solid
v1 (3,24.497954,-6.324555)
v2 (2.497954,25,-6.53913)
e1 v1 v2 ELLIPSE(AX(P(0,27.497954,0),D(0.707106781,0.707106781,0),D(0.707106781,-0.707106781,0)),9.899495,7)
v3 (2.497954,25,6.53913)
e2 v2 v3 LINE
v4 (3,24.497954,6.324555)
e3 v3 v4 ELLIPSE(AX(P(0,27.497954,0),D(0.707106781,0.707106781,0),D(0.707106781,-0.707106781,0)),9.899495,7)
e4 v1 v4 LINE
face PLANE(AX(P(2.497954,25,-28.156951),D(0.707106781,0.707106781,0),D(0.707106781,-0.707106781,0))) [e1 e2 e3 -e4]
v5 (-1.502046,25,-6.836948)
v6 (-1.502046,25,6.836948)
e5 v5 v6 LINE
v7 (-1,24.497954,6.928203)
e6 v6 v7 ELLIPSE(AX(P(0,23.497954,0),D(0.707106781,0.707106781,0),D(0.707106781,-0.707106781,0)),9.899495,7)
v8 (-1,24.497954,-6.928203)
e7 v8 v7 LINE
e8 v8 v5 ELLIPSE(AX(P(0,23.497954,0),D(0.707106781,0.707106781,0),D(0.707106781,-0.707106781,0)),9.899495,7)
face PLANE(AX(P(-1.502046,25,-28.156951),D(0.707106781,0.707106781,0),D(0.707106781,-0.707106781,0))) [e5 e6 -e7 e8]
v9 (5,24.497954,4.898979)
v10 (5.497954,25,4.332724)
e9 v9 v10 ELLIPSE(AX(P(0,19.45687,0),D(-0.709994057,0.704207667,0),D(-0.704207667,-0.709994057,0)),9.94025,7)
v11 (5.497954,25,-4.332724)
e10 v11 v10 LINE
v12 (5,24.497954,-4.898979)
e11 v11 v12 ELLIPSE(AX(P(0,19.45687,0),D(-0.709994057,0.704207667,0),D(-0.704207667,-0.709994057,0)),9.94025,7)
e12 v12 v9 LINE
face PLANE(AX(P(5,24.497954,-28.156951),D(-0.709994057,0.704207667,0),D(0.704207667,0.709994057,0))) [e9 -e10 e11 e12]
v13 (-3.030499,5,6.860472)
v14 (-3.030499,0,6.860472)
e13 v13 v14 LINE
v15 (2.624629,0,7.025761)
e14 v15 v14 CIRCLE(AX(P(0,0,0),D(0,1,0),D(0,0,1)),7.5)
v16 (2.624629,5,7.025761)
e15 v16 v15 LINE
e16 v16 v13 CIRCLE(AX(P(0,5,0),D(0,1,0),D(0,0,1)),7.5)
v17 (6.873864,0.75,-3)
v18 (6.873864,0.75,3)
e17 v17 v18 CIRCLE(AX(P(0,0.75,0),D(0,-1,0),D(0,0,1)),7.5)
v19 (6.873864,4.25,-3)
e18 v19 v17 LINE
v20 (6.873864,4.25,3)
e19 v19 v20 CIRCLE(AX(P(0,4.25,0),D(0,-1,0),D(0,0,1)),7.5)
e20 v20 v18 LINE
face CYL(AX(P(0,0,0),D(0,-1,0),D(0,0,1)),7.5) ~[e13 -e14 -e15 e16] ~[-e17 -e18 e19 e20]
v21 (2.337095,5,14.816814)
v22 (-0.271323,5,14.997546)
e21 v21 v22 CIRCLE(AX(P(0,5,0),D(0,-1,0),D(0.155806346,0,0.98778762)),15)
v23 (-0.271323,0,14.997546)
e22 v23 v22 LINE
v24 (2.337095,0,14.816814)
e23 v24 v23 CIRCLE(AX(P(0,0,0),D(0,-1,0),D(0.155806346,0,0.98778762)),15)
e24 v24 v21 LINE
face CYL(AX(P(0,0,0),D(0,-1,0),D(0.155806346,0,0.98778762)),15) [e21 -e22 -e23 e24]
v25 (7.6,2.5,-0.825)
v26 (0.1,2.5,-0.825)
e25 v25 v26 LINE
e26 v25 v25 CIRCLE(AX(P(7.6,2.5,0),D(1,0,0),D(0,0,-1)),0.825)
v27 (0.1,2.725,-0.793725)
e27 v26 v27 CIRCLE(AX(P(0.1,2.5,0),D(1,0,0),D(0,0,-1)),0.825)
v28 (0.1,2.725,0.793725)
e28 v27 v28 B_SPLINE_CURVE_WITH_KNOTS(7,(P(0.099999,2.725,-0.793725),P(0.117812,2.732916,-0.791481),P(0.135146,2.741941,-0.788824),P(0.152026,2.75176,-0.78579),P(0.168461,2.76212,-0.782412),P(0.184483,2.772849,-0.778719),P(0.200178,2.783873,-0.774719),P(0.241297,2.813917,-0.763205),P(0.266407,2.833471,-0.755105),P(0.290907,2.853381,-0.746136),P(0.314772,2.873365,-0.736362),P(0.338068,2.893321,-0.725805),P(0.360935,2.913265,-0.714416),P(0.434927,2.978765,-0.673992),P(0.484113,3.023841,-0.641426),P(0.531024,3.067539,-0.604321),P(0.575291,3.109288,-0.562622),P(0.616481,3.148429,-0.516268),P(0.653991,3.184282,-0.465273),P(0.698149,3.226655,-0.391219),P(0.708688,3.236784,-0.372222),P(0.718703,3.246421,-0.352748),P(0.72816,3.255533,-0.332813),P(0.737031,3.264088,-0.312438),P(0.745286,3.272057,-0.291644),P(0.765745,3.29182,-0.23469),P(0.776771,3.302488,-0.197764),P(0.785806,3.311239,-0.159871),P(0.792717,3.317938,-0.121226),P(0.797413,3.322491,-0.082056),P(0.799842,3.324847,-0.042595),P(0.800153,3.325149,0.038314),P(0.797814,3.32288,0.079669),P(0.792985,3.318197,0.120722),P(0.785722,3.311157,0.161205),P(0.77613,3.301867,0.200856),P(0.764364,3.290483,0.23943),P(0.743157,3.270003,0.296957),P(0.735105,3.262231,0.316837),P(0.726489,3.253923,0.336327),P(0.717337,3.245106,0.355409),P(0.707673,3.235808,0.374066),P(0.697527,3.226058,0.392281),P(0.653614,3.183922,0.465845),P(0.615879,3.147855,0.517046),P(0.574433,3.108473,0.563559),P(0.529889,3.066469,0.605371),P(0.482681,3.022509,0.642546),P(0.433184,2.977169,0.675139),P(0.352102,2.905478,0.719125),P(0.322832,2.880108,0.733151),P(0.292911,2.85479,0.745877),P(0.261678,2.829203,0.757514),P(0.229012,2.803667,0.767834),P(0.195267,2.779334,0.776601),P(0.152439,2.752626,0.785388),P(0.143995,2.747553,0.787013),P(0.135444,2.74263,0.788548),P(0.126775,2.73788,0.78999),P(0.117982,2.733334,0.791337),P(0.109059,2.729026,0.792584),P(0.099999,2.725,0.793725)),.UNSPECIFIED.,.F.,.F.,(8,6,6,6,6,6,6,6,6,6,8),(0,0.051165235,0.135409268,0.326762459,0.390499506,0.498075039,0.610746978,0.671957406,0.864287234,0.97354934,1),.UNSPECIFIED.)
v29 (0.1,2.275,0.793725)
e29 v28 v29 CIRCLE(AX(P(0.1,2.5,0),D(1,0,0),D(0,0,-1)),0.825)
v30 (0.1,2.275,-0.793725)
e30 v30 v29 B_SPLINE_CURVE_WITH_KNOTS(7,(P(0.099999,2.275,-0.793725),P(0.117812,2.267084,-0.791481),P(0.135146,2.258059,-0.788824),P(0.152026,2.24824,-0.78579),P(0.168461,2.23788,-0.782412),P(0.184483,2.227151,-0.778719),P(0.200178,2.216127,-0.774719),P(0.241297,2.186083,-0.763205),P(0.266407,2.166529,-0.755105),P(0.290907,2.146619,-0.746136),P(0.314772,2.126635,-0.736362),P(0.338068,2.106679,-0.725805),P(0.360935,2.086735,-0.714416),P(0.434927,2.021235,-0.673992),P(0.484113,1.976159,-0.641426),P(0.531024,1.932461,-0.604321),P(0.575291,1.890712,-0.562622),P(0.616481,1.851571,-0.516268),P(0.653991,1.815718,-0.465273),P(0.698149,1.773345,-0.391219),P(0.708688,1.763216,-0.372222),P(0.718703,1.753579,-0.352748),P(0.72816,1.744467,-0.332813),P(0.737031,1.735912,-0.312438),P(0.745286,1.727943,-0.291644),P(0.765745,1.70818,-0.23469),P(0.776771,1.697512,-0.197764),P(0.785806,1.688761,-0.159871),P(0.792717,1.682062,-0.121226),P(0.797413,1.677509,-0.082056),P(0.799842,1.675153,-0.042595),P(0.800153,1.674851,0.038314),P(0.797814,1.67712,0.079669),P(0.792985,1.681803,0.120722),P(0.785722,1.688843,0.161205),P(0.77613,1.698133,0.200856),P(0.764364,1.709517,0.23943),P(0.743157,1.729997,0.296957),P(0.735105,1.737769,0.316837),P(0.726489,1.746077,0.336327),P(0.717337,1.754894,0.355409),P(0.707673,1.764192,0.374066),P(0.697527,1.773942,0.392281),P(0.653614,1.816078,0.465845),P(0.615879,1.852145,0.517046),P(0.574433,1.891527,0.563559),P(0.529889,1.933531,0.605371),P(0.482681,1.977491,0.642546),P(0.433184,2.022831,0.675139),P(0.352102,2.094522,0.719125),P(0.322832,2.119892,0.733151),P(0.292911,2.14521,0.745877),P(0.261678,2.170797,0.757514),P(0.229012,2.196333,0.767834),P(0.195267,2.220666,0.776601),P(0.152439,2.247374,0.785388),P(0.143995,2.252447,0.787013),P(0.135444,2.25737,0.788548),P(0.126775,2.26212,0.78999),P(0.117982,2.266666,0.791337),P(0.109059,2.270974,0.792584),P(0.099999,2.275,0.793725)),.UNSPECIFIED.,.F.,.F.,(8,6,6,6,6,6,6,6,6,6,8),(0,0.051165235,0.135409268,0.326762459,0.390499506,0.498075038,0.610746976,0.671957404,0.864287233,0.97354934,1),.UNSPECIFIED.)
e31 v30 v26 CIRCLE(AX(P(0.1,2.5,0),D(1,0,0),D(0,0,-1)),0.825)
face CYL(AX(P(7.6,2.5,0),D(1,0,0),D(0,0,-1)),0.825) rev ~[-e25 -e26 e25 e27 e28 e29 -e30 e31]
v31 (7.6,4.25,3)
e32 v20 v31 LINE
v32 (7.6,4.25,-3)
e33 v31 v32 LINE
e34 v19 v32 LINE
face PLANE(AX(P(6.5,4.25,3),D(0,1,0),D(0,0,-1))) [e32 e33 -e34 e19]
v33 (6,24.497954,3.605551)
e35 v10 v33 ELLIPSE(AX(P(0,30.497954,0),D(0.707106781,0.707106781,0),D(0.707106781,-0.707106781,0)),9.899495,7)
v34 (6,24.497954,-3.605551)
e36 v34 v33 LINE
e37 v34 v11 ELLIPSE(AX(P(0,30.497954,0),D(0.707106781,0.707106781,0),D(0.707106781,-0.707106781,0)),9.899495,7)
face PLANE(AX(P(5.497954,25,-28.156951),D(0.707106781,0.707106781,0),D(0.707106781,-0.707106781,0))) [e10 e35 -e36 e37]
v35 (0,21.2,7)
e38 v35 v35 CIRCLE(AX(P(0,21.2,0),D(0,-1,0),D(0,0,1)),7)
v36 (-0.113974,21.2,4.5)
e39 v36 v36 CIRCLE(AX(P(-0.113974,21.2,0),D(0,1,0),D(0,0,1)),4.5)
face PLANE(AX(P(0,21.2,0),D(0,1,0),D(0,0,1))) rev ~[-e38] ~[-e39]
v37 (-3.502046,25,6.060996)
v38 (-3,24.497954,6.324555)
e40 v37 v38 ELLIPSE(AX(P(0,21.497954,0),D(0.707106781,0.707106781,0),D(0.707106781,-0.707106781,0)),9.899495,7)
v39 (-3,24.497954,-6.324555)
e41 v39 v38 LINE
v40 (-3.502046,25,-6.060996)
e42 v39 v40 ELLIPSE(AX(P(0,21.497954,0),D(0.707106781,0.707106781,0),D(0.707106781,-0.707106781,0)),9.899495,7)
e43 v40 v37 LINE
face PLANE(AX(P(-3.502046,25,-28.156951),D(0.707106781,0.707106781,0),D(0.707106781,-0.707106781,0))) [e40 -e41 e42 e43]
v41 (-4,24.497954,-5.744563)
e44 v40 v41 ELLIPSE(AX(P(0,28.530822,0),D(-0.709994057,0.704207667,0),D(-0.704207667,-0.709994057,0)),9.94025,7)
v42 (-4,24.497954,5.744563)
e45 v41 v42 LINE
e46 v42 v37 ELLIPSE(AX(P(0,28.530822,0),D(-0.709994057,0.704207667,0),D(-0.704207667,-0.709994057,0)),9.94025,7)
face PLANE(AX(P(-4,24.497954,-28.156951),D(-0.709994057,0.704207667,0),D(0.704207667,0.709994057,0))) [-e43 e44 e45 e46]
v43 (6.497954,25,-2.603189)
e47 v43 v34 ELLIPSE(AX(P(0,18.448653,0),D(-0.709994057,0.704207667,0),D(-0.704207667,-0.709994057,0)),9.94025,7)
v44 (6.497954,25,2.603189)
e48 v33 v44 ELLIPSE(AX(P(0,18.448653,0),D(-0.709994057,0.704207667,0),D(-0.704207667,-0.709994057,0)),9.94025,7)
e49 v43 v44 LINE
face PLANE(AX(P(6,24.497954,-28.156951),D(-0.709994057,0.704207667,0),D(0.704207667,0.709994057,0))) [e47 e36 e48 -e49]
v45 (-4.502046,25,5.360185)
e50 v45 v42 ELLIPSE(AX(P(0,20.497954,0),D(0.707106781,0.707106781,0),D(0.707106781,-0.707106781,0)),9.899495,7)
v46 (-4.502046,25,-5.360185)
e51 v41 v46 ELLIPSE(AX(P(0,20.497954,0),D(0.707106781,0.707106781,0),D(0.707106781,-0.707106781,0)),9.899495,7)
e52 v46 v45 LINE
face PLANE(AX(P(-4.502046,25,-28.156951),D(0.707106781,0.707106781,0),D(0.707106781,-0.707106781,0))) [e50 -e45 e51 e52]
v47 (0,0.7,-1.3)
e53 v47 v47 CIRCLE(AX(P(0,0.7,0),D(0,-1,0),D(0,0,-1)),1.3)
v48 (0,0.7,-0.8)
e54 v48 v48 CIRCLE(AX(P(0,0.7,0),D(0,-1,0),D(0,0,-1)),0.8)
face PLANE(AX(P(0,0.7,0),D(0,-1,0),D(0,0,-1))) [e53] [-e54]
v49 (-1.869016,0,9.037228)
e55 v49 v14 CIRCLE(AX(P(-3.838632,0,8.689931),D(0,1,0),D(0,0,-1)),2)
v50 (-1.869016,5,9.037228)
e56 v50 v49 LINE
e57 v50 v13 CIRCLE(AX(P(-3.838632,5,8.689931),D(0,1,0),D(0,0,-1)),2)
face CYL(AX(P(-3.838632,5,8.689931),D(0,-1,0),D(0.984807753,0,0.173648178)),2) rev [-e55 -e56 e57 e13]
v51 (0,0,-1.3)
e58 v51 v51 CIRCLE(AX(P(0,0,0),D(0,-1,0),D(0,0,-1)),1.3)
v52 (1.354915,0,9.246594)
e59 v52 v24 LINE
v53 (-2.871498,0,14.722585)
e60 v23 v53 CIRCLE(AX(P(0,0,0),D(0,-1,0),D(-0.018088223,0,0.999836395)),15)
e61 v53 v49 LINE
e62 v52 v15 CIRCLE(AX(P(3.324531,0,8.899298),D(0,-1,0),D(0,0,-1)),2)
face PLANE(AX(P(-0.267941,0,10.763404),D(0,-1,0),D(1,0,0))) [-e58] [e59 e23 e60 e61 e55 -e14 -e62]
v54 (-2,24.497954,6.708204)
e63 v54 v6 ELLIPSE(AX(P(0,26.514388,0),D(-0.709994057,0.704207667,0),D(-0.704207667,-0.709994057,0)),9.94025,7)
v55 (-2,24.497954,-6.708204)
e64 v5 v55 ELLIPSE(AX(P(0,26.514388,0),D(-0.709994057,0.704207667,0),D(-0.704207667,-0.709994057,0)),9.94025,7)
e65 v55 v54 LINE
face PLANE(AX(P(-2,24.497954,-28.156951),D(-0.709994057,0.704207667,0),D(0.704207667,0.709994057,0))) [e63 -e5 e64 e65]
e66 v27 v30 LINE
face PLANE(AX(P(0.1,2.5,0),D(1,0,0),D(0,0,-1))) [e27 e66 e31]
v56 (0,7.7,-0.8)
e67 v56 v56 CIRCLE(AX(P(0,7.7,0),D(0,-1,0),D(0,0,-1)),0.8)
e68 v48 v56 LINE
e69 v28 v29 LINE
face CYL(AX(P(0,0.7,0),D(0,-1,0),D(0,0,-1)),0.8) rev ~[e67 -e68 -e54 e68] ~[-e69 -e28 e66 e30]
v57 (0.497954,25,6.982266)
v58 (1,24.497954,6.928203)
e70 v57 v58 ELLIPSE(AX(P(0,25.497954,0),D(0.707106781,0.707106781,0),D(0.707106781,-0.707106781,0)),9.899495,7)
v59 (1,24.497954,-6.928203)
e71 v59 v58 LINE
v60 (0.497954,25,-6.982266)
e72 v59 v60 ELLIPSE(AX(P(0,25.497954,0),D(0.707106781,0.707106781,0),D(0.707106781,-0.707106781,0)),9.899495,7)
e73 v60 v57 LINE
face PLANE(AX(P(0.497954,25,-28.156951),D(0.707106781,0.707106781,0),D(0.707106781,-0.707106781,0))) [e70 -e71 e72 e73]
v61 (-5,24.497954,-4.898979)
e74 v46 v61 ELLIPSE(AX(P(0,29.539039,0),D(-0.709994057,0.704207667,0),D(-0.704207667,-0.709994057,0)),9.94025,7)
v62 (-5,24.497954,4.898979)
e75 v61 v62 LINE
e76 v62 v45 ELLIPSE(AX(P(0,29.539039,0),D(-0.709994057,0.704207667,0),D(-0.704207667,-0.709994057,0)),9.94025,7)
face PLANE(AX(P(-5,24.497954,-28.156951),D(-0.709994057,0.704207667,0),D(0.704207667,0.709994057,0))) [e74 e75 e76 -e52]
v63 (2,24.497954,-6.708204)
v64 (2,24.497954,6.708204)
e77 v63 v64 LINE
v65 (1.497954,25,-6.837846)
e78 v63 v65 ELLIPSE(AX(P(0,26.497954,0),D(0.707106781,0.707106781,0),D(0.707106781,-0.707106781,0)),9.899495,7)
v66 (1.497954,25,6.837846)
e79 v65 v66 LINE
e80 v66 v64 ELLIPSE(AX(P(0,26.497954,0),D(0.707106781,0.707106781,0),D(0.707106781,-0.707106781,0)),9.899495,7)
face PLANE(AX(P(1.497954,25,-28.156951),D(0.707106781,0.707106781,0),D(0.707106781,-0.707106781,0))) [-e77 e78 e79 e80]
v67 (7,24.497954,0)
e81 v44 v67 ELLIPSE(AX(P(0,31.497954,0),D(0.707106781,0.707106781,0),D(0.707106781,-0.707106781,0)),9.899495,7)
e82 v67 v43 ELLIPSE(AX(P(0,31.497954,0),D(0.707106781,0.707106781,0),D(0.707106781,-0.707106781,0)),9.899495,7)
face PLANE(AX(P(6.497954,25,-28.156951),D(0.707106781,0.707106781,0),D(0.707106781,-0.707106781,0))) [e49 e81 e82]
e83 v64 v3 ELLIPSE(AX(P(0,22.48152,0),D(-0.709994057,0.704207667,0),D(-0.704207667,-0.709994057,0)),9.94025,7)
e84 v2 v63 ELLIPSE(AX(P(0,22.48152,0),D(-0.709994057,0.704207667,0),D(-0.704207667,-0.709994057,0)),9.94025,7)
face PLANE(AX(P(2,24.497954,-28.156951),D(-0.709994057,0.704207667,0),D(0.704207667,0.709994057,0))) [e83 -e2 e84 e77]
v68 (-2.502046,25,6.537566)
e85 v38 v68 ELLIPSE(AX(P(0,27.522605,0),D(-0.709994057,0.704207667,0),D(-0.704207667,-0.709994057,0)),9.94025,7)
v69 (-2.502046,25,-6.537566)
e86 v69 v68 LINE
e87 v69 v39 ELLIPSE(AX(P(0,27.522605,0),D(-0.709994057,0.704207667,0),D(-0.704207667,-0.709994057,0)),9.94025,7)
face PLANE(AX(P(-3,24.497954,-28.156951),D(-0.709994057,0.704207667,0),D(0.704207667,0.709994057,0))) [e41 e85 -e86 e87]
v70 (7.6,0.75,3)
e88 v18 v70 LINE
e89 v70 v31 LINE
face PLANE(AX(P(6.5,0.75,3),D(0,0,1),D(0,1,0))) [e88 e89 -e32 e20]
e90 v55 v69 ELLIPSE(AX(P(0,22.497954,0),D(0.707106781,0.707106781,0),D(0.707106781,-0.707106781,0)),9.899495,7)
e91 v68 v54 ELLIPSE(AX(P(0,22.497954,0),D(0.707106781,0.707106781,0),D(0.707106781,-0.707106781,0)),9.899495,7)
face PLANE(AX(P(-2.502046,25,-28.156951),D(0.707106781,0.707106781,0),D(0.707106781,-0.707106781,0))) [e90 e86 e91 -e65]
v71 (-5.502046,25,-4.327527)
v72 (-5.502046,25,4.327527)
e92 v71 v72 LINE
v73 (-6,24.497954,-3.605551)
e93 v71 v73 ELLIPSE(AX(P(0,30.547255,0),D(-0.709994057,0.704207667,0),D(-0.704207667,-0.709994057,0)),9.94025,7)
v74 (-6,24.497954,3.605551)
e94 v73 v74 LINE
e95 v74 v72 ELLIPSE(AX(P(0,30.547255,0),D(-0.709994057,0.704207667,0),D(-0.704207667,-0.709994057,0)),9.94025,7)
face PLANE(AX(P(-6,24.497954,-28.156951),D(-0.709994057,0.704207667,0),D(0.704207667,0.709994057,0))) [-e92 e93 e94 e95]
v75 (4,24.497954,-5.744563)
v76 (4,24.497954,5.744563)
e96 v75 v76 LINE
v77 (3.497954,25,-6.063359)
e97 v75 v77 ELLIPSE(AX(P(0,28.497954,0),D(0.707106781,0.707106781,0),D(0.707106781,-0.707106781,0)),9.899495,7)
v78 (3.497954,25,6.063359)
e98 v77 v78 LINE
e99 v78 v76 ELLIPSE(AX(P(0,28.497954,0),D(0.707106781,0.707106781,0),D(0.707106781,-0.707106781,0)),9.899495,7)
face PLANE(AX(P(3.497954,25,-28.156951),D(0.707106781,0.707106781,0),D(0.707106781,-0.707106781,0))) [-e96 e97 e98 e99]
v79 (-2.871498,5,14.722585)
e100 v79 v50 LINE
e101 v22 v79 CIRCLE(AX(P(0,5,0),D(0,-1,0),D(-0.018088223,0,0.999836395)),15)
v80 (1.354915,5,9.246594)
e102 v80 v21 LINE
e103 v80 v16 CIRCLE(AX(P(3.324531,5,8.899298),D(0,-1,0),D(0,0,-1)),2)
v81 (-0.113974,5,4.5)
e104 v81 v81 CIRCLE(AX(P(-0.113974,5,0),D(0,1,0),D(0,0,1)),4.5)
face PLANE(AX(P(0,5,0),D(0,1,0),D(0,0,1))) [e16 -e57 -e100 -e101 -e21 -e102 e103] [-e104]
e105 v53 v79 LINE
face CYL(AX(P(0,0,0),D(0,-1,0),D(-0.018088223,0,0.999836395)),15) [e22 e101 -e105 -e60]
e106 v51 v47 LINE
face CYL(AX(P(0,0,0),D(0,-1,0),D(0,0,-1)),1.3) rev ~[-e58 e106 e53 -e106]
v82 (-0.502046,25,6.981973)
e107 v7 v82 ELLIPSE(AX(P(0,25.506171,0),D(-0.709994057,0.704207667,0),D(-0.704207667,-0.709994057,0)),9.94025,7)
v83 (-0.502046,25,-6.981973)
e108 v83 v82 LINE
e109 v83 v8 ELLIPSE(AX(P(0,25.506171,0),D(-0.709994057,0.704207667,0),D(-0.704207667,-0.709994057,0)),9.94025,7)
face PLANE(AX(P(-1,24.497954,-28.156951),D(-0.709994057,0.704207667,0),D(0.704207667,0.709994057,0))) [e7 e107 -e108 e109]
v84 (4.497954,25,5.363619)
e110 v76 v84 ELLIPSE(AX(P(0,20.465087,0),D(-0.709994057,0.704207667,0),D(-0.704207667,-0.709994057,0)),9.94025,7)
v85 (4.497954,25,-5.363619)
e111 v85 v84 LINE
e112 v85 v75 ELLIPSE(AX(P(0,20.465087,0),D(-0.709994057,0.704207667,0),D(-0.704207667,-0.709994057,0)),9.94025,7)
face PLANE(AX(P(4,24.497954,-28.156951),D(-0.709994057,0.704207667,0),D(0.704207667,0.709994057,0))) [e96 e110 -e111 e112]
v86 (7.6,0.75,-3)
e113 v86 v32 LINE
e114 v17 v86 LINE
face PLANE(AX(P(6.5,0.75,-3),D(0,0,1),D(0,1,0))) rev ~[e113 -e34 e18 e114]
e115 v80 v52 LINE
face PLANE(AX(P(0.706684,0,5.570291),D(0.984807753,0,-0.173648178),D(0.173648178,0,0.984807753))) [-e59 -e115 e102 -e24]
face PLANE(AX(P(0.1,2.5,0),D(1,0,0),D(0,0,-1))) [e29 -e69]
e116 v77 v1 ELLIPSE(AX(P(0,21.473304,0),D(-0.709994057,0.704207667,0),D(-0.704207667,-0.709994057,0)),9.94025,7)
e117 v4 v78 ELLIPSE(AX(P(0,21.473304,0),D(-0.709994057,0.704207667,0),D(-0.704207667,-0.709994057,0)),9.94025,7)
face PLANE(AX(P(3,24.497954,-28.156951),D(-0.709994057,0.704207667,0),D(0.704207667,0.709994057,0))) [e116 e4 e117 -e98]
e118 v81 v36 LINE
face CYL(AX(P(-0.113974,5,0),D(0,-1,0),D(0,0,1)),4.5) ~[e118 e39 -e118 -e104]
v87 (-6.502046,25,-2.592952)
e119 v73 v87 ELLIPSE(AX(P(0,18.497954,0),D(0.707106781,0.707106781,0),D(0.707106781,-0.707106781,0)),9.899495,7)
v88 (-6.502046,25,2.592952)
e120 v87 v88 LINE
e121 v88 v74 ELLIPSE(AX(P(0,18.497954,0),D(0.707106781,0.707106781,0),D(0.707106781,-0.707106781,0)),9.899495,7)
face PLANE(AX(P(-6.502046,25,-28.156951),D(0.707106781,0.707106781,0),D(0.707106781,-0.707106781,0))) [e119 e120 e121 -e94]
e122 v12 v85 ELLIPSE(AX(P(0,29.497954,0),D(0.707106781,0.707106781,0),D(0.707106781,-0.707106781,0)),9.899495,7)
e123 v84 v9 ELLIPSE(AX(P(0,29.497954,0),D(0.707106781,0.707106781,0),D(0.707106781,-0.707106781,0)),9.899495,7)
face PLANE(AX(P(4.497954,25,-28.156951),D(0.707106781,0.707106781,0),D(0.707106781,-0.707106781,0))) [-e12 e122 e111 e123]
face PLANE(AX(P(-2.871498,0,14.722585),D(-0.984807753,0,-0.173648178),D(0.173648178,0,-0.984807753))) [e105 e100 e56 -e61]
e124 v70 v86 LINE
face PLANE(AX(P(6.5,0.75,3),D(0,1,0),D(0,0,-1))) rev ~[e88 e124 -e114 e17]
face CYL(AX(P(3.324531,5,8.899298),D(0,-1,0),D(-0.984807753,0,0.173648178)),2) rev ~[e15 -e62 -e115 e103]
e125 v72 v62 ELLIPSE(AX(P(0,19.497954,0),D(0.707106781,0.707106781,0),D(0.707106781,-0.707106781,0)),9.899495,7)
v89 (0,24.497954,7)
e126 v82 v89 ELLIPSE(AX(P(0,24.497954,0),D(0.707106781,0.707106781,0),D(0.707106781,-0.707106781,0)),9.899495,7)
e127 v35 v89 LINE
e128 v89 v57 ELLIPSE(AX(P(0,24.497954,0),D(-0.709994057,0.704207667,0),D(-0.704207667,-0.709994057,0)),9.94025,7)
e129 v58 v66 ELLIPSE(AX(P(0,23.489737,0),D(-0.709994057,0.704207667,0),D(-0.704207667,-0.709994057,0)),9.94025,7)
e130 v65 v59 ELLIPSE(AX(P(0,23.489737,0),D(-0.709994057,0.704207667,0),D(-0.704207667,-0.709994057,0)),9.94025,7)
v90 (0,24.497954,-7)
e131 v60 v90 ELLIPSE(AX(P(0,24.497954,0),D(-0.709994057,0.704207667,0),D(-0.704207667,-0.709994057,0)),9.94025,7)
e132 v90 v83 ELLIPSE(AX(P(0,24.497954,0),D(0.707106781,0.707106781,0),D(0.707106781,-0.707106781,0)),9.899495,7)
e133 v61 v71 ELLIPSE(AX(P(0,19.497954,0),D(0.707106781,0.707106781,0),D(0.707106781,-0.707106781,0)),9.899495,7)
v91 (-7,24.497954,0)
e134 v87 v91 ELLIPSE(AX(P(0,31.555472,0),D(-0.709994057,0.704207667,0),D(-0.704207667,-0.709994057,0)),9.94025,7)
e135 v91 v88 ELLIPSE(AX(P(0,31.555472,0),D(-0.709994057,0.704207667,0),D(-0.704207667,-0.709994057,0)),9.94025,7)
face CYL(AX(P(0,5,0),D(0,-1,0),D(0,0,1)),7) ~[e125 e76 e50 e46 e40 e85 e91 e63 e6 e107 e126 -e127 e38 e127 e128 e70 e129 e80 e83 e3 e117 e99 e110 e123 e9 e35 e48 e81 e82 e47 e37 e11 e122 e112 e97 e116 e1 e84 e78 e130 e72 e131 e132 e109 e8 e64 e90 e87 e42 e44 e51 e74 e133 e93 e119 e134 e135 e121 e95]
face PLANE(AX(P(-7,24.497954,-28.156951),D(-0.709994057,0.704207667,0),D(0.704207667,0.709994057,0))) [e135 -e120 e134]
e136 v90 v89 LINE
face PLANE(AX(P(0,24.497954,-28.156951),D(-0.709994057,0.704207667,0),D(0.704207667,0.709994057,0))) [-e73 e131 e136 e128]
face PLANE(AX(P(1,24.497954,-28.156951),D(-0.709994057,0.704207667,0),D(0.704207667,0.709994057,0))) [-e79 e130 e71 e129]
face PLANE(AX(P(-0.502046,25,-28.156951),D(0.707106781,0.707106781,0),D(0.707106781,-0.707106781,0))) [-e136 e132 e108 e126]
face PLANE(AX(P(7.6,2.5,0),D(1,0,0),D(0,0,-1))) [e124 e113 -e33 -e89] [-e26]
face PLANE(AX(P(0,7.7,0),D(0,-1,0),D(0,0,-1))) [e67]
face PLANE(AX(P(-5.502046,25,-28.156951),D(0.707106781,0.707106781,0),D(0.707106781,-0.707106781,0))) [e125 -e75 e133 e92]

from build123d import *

# Parameters (mm, degrees)
SKETCH1_R                = 7.5
BOSS_EXTRUDE1_DEPTH      = 5
SKETCH2_R                = 7
BOSS_EXTRUDE2_DEPTH      = 20
CUT_EXTRUDE2_DEPTH       = 28.156951228
CUT_EXTRUDE2_DEPTH_BACK  = 28.156951228
SKETCH6_R                = 1.3
CUT_EXTRUDE3_DEPTH       = 0.7
SKETCH9_R                = 0.8
CUT_EXTRUDE4_DEPTH       = 7
BOSS_EXTRUDE3_DEPTH      = 0.1
BOSS_EXTRUDE3_DEPTH_BACK = 1
SKETCH10_W               = 6
SKETCH10_H               = 3.5
SKETCH17_R               = 7.5
SKETCH17_R_2             = 4.5
CUT_EXTRUDE7_DEPTH       = 16.2
BOSS_EXTRUDE6_DEPTH      = 5
FILLET2_R                = 2
SKETCH11_R               = 0.825
CUT_EXTRUDE8_DEPTH       = 7.5


with BuildPart() as part:
    # Sketch1 → Boss-Extrude1 (new body)
    with BuildSketch(Plane(origin=(0, 0, 0), x_dir=(1, 0, 0), z_dir=(0, 1, 0))):
        with Locations(Location((0, 0, 0), (0, 0, 270))):
            Circle(SKETCH1_R)
    extrude(amount=BOSS_EXTRUDE1_DEPTH)

    # Sketch2 → Boss-Extrude2 (add)
    with BuildSketch(Plane(origin=(0, 5, 0), x_dir=(1, 0, 0), z_dir=(0, 1, 0))):
        with Locations(Location((0, 0, 0), (0, 0, 270))):
            Circle(SKETCH2_R)
    extrude(amount=BOSS_EXTRUDE2_DEPTH)

    # Sketch5 → Cut-Extrude2 (cut, two sides: drawn at the far end of the back side and taken through both)
    with BuildSketch(Plane.XY.offset(-CUT_EXTRUDE2_DEPTH_BACK)):
        Polygon((-7.502045815, 25), (-7, 24.497954185), (-6.502045815, 25), (-6, 24.497954185), (-5.502045815, 25), (-5, 24.497954185), (-4.502045815, 25), (-4, 24.497954185), (-3.502045815, 25), (-3, 24.497954185), (-2.502045815, 25), (-2, 24.497954185), (-1.502045815, 25), (-1, 24.497954185), (-0.502045815, 25), (0, 24.497954185), (0.497954185, 25), (1, 24.497954185), (1.497954185, 25), (2, 24.497954185), (2.497954185, 25), (3, 24.497954185), (3.497954185, 25), (4, 24.497954185), (4.497954185, 25), (5, 24.497954185), (5.497954185, 25), (6, 24.497954185), (6.497954185, 25), (7, 24.497954185), (7, 25.505612795), (-7.502045815, 25.505612795), align=None)
    extrude(amount=CUT_EXTRUDE2_DEPTH + CUT_EXTRUDE2_DEPTH_BACK, mode=Mode.SUBTRACT)

    # Sketch6 → Cut-Extrude3 (cut)
    with BuildSketch(Plane.XZ):
        with Locations(Location((0, 0, 0), (0, 0, 270))):
            Circle(SKETCH6_R)
    extrude(amount=-CUT_EXTRUDE3_DEPTH, mode=Mode.SUBTRACT)

    # Sketch9 → Cut-Extrude4 (cut)
    with BuildSketch(Plane.XZ.offset(-0.7)):
        with Locations(Location((0, 0, 0), (0, 0, 270))):
            Circle(SKETCH9_R)
    extrude(amount=-CUT_EXTRUDE4_DEPTH, mode=Mode.SUBTRACT)

    # Sketch10 → Boss-Extrude3 (add, two sides: drawn at the far end of the back side and taken through both)
    with BuildSketch(Plane(origin=(7.5, 0, 0), x_dir=(0, 0, -1), z_dir=(1, 0, 0)).offset(-BOSS_EXTRUDE3_DEPTH_BACK)):
        with Locations((0, 2.5)):
            Rectangle(SKETCH10_W, SKETCH10_H)
    extrude(amount=BOSS_EXTRUDE3_DEPTH + BOSS_EXTRUDE3_DEPTH_BACK)

    # Sketch17 → Cut-Extrude7 (cut)
    with BuildSketch(Plane(origin=(0, 5, 0), x_dir=(1, 0, 0), z_dir=(0, 1, 0))):
        with Locations(Location((0, 0, 0), (0, 0, 270))):
            Circle(SKETCH17_R)
        with Locations(Location((-0.11397387, 0, 0), (0, 0, 270))):
            Circle(SKETCH17_R_2, mode=Mode.SUBTRACT)
    extrude(amount=CUT_EXTRUDE7_DEPTH, mode=Mode.SUBTRACT)

    # Sketch20 → Boss-Extrude6 (add)
    with BuildSketch(Plane.XZ):
        with BuildLine():
            Line((0.70668366, 5.570291045), (2.337095188, 14.816814303))
            ThreePointArc((2.337095188, 14.816814303), (1.03683138, 14.964123118), (-0.271323341, 14.997545921))
            ThreePointArc((-0.271323341, 14.997545921), (-1.577413128, 14.916828343), (-2.871497849, 14.722584695))
            Line((-2.871497849, 14.722584695), (-1.241086321, 5.476061437))
            ThreePointArc((-1.241086321, 5.476061437), (-0.759093411, 5.56339117), (-0.271323341, 5.608380137))
            ThreePointArc((-0.271323341, 5.608380137), (0.218511662, 5.610685945), (0.70668366, 5.570291045))
        make_face()
    extrude(amount=-BOSS_EXTRUDE6_DEPTH)

    # Fillet2
    fillet2_edges = [part.edges().sort_by_distance(p)[0] for p in [
        (1.0343075, 2.5, 7.428338172),
        (-1.568710161, 2.5, 7.334108564),
    ]]
    fillet(fillet2_edges, radius=FILLET2_R)

    # Sketch11 → Cut-Extrude8 (cut)
    with BuildSketch(Plane(origin=(7.6, 0, 0), x_dir=(0, 0, -1), z_dir=(1, 0, 0))):
        with Locations((0, 2.5)):
            Circle(SKETCH11_R)
    extrude(amount=-CUT_EXTRUDE8_DEPTH, mode=Mode.SUBTRACT)


solid = part.part
